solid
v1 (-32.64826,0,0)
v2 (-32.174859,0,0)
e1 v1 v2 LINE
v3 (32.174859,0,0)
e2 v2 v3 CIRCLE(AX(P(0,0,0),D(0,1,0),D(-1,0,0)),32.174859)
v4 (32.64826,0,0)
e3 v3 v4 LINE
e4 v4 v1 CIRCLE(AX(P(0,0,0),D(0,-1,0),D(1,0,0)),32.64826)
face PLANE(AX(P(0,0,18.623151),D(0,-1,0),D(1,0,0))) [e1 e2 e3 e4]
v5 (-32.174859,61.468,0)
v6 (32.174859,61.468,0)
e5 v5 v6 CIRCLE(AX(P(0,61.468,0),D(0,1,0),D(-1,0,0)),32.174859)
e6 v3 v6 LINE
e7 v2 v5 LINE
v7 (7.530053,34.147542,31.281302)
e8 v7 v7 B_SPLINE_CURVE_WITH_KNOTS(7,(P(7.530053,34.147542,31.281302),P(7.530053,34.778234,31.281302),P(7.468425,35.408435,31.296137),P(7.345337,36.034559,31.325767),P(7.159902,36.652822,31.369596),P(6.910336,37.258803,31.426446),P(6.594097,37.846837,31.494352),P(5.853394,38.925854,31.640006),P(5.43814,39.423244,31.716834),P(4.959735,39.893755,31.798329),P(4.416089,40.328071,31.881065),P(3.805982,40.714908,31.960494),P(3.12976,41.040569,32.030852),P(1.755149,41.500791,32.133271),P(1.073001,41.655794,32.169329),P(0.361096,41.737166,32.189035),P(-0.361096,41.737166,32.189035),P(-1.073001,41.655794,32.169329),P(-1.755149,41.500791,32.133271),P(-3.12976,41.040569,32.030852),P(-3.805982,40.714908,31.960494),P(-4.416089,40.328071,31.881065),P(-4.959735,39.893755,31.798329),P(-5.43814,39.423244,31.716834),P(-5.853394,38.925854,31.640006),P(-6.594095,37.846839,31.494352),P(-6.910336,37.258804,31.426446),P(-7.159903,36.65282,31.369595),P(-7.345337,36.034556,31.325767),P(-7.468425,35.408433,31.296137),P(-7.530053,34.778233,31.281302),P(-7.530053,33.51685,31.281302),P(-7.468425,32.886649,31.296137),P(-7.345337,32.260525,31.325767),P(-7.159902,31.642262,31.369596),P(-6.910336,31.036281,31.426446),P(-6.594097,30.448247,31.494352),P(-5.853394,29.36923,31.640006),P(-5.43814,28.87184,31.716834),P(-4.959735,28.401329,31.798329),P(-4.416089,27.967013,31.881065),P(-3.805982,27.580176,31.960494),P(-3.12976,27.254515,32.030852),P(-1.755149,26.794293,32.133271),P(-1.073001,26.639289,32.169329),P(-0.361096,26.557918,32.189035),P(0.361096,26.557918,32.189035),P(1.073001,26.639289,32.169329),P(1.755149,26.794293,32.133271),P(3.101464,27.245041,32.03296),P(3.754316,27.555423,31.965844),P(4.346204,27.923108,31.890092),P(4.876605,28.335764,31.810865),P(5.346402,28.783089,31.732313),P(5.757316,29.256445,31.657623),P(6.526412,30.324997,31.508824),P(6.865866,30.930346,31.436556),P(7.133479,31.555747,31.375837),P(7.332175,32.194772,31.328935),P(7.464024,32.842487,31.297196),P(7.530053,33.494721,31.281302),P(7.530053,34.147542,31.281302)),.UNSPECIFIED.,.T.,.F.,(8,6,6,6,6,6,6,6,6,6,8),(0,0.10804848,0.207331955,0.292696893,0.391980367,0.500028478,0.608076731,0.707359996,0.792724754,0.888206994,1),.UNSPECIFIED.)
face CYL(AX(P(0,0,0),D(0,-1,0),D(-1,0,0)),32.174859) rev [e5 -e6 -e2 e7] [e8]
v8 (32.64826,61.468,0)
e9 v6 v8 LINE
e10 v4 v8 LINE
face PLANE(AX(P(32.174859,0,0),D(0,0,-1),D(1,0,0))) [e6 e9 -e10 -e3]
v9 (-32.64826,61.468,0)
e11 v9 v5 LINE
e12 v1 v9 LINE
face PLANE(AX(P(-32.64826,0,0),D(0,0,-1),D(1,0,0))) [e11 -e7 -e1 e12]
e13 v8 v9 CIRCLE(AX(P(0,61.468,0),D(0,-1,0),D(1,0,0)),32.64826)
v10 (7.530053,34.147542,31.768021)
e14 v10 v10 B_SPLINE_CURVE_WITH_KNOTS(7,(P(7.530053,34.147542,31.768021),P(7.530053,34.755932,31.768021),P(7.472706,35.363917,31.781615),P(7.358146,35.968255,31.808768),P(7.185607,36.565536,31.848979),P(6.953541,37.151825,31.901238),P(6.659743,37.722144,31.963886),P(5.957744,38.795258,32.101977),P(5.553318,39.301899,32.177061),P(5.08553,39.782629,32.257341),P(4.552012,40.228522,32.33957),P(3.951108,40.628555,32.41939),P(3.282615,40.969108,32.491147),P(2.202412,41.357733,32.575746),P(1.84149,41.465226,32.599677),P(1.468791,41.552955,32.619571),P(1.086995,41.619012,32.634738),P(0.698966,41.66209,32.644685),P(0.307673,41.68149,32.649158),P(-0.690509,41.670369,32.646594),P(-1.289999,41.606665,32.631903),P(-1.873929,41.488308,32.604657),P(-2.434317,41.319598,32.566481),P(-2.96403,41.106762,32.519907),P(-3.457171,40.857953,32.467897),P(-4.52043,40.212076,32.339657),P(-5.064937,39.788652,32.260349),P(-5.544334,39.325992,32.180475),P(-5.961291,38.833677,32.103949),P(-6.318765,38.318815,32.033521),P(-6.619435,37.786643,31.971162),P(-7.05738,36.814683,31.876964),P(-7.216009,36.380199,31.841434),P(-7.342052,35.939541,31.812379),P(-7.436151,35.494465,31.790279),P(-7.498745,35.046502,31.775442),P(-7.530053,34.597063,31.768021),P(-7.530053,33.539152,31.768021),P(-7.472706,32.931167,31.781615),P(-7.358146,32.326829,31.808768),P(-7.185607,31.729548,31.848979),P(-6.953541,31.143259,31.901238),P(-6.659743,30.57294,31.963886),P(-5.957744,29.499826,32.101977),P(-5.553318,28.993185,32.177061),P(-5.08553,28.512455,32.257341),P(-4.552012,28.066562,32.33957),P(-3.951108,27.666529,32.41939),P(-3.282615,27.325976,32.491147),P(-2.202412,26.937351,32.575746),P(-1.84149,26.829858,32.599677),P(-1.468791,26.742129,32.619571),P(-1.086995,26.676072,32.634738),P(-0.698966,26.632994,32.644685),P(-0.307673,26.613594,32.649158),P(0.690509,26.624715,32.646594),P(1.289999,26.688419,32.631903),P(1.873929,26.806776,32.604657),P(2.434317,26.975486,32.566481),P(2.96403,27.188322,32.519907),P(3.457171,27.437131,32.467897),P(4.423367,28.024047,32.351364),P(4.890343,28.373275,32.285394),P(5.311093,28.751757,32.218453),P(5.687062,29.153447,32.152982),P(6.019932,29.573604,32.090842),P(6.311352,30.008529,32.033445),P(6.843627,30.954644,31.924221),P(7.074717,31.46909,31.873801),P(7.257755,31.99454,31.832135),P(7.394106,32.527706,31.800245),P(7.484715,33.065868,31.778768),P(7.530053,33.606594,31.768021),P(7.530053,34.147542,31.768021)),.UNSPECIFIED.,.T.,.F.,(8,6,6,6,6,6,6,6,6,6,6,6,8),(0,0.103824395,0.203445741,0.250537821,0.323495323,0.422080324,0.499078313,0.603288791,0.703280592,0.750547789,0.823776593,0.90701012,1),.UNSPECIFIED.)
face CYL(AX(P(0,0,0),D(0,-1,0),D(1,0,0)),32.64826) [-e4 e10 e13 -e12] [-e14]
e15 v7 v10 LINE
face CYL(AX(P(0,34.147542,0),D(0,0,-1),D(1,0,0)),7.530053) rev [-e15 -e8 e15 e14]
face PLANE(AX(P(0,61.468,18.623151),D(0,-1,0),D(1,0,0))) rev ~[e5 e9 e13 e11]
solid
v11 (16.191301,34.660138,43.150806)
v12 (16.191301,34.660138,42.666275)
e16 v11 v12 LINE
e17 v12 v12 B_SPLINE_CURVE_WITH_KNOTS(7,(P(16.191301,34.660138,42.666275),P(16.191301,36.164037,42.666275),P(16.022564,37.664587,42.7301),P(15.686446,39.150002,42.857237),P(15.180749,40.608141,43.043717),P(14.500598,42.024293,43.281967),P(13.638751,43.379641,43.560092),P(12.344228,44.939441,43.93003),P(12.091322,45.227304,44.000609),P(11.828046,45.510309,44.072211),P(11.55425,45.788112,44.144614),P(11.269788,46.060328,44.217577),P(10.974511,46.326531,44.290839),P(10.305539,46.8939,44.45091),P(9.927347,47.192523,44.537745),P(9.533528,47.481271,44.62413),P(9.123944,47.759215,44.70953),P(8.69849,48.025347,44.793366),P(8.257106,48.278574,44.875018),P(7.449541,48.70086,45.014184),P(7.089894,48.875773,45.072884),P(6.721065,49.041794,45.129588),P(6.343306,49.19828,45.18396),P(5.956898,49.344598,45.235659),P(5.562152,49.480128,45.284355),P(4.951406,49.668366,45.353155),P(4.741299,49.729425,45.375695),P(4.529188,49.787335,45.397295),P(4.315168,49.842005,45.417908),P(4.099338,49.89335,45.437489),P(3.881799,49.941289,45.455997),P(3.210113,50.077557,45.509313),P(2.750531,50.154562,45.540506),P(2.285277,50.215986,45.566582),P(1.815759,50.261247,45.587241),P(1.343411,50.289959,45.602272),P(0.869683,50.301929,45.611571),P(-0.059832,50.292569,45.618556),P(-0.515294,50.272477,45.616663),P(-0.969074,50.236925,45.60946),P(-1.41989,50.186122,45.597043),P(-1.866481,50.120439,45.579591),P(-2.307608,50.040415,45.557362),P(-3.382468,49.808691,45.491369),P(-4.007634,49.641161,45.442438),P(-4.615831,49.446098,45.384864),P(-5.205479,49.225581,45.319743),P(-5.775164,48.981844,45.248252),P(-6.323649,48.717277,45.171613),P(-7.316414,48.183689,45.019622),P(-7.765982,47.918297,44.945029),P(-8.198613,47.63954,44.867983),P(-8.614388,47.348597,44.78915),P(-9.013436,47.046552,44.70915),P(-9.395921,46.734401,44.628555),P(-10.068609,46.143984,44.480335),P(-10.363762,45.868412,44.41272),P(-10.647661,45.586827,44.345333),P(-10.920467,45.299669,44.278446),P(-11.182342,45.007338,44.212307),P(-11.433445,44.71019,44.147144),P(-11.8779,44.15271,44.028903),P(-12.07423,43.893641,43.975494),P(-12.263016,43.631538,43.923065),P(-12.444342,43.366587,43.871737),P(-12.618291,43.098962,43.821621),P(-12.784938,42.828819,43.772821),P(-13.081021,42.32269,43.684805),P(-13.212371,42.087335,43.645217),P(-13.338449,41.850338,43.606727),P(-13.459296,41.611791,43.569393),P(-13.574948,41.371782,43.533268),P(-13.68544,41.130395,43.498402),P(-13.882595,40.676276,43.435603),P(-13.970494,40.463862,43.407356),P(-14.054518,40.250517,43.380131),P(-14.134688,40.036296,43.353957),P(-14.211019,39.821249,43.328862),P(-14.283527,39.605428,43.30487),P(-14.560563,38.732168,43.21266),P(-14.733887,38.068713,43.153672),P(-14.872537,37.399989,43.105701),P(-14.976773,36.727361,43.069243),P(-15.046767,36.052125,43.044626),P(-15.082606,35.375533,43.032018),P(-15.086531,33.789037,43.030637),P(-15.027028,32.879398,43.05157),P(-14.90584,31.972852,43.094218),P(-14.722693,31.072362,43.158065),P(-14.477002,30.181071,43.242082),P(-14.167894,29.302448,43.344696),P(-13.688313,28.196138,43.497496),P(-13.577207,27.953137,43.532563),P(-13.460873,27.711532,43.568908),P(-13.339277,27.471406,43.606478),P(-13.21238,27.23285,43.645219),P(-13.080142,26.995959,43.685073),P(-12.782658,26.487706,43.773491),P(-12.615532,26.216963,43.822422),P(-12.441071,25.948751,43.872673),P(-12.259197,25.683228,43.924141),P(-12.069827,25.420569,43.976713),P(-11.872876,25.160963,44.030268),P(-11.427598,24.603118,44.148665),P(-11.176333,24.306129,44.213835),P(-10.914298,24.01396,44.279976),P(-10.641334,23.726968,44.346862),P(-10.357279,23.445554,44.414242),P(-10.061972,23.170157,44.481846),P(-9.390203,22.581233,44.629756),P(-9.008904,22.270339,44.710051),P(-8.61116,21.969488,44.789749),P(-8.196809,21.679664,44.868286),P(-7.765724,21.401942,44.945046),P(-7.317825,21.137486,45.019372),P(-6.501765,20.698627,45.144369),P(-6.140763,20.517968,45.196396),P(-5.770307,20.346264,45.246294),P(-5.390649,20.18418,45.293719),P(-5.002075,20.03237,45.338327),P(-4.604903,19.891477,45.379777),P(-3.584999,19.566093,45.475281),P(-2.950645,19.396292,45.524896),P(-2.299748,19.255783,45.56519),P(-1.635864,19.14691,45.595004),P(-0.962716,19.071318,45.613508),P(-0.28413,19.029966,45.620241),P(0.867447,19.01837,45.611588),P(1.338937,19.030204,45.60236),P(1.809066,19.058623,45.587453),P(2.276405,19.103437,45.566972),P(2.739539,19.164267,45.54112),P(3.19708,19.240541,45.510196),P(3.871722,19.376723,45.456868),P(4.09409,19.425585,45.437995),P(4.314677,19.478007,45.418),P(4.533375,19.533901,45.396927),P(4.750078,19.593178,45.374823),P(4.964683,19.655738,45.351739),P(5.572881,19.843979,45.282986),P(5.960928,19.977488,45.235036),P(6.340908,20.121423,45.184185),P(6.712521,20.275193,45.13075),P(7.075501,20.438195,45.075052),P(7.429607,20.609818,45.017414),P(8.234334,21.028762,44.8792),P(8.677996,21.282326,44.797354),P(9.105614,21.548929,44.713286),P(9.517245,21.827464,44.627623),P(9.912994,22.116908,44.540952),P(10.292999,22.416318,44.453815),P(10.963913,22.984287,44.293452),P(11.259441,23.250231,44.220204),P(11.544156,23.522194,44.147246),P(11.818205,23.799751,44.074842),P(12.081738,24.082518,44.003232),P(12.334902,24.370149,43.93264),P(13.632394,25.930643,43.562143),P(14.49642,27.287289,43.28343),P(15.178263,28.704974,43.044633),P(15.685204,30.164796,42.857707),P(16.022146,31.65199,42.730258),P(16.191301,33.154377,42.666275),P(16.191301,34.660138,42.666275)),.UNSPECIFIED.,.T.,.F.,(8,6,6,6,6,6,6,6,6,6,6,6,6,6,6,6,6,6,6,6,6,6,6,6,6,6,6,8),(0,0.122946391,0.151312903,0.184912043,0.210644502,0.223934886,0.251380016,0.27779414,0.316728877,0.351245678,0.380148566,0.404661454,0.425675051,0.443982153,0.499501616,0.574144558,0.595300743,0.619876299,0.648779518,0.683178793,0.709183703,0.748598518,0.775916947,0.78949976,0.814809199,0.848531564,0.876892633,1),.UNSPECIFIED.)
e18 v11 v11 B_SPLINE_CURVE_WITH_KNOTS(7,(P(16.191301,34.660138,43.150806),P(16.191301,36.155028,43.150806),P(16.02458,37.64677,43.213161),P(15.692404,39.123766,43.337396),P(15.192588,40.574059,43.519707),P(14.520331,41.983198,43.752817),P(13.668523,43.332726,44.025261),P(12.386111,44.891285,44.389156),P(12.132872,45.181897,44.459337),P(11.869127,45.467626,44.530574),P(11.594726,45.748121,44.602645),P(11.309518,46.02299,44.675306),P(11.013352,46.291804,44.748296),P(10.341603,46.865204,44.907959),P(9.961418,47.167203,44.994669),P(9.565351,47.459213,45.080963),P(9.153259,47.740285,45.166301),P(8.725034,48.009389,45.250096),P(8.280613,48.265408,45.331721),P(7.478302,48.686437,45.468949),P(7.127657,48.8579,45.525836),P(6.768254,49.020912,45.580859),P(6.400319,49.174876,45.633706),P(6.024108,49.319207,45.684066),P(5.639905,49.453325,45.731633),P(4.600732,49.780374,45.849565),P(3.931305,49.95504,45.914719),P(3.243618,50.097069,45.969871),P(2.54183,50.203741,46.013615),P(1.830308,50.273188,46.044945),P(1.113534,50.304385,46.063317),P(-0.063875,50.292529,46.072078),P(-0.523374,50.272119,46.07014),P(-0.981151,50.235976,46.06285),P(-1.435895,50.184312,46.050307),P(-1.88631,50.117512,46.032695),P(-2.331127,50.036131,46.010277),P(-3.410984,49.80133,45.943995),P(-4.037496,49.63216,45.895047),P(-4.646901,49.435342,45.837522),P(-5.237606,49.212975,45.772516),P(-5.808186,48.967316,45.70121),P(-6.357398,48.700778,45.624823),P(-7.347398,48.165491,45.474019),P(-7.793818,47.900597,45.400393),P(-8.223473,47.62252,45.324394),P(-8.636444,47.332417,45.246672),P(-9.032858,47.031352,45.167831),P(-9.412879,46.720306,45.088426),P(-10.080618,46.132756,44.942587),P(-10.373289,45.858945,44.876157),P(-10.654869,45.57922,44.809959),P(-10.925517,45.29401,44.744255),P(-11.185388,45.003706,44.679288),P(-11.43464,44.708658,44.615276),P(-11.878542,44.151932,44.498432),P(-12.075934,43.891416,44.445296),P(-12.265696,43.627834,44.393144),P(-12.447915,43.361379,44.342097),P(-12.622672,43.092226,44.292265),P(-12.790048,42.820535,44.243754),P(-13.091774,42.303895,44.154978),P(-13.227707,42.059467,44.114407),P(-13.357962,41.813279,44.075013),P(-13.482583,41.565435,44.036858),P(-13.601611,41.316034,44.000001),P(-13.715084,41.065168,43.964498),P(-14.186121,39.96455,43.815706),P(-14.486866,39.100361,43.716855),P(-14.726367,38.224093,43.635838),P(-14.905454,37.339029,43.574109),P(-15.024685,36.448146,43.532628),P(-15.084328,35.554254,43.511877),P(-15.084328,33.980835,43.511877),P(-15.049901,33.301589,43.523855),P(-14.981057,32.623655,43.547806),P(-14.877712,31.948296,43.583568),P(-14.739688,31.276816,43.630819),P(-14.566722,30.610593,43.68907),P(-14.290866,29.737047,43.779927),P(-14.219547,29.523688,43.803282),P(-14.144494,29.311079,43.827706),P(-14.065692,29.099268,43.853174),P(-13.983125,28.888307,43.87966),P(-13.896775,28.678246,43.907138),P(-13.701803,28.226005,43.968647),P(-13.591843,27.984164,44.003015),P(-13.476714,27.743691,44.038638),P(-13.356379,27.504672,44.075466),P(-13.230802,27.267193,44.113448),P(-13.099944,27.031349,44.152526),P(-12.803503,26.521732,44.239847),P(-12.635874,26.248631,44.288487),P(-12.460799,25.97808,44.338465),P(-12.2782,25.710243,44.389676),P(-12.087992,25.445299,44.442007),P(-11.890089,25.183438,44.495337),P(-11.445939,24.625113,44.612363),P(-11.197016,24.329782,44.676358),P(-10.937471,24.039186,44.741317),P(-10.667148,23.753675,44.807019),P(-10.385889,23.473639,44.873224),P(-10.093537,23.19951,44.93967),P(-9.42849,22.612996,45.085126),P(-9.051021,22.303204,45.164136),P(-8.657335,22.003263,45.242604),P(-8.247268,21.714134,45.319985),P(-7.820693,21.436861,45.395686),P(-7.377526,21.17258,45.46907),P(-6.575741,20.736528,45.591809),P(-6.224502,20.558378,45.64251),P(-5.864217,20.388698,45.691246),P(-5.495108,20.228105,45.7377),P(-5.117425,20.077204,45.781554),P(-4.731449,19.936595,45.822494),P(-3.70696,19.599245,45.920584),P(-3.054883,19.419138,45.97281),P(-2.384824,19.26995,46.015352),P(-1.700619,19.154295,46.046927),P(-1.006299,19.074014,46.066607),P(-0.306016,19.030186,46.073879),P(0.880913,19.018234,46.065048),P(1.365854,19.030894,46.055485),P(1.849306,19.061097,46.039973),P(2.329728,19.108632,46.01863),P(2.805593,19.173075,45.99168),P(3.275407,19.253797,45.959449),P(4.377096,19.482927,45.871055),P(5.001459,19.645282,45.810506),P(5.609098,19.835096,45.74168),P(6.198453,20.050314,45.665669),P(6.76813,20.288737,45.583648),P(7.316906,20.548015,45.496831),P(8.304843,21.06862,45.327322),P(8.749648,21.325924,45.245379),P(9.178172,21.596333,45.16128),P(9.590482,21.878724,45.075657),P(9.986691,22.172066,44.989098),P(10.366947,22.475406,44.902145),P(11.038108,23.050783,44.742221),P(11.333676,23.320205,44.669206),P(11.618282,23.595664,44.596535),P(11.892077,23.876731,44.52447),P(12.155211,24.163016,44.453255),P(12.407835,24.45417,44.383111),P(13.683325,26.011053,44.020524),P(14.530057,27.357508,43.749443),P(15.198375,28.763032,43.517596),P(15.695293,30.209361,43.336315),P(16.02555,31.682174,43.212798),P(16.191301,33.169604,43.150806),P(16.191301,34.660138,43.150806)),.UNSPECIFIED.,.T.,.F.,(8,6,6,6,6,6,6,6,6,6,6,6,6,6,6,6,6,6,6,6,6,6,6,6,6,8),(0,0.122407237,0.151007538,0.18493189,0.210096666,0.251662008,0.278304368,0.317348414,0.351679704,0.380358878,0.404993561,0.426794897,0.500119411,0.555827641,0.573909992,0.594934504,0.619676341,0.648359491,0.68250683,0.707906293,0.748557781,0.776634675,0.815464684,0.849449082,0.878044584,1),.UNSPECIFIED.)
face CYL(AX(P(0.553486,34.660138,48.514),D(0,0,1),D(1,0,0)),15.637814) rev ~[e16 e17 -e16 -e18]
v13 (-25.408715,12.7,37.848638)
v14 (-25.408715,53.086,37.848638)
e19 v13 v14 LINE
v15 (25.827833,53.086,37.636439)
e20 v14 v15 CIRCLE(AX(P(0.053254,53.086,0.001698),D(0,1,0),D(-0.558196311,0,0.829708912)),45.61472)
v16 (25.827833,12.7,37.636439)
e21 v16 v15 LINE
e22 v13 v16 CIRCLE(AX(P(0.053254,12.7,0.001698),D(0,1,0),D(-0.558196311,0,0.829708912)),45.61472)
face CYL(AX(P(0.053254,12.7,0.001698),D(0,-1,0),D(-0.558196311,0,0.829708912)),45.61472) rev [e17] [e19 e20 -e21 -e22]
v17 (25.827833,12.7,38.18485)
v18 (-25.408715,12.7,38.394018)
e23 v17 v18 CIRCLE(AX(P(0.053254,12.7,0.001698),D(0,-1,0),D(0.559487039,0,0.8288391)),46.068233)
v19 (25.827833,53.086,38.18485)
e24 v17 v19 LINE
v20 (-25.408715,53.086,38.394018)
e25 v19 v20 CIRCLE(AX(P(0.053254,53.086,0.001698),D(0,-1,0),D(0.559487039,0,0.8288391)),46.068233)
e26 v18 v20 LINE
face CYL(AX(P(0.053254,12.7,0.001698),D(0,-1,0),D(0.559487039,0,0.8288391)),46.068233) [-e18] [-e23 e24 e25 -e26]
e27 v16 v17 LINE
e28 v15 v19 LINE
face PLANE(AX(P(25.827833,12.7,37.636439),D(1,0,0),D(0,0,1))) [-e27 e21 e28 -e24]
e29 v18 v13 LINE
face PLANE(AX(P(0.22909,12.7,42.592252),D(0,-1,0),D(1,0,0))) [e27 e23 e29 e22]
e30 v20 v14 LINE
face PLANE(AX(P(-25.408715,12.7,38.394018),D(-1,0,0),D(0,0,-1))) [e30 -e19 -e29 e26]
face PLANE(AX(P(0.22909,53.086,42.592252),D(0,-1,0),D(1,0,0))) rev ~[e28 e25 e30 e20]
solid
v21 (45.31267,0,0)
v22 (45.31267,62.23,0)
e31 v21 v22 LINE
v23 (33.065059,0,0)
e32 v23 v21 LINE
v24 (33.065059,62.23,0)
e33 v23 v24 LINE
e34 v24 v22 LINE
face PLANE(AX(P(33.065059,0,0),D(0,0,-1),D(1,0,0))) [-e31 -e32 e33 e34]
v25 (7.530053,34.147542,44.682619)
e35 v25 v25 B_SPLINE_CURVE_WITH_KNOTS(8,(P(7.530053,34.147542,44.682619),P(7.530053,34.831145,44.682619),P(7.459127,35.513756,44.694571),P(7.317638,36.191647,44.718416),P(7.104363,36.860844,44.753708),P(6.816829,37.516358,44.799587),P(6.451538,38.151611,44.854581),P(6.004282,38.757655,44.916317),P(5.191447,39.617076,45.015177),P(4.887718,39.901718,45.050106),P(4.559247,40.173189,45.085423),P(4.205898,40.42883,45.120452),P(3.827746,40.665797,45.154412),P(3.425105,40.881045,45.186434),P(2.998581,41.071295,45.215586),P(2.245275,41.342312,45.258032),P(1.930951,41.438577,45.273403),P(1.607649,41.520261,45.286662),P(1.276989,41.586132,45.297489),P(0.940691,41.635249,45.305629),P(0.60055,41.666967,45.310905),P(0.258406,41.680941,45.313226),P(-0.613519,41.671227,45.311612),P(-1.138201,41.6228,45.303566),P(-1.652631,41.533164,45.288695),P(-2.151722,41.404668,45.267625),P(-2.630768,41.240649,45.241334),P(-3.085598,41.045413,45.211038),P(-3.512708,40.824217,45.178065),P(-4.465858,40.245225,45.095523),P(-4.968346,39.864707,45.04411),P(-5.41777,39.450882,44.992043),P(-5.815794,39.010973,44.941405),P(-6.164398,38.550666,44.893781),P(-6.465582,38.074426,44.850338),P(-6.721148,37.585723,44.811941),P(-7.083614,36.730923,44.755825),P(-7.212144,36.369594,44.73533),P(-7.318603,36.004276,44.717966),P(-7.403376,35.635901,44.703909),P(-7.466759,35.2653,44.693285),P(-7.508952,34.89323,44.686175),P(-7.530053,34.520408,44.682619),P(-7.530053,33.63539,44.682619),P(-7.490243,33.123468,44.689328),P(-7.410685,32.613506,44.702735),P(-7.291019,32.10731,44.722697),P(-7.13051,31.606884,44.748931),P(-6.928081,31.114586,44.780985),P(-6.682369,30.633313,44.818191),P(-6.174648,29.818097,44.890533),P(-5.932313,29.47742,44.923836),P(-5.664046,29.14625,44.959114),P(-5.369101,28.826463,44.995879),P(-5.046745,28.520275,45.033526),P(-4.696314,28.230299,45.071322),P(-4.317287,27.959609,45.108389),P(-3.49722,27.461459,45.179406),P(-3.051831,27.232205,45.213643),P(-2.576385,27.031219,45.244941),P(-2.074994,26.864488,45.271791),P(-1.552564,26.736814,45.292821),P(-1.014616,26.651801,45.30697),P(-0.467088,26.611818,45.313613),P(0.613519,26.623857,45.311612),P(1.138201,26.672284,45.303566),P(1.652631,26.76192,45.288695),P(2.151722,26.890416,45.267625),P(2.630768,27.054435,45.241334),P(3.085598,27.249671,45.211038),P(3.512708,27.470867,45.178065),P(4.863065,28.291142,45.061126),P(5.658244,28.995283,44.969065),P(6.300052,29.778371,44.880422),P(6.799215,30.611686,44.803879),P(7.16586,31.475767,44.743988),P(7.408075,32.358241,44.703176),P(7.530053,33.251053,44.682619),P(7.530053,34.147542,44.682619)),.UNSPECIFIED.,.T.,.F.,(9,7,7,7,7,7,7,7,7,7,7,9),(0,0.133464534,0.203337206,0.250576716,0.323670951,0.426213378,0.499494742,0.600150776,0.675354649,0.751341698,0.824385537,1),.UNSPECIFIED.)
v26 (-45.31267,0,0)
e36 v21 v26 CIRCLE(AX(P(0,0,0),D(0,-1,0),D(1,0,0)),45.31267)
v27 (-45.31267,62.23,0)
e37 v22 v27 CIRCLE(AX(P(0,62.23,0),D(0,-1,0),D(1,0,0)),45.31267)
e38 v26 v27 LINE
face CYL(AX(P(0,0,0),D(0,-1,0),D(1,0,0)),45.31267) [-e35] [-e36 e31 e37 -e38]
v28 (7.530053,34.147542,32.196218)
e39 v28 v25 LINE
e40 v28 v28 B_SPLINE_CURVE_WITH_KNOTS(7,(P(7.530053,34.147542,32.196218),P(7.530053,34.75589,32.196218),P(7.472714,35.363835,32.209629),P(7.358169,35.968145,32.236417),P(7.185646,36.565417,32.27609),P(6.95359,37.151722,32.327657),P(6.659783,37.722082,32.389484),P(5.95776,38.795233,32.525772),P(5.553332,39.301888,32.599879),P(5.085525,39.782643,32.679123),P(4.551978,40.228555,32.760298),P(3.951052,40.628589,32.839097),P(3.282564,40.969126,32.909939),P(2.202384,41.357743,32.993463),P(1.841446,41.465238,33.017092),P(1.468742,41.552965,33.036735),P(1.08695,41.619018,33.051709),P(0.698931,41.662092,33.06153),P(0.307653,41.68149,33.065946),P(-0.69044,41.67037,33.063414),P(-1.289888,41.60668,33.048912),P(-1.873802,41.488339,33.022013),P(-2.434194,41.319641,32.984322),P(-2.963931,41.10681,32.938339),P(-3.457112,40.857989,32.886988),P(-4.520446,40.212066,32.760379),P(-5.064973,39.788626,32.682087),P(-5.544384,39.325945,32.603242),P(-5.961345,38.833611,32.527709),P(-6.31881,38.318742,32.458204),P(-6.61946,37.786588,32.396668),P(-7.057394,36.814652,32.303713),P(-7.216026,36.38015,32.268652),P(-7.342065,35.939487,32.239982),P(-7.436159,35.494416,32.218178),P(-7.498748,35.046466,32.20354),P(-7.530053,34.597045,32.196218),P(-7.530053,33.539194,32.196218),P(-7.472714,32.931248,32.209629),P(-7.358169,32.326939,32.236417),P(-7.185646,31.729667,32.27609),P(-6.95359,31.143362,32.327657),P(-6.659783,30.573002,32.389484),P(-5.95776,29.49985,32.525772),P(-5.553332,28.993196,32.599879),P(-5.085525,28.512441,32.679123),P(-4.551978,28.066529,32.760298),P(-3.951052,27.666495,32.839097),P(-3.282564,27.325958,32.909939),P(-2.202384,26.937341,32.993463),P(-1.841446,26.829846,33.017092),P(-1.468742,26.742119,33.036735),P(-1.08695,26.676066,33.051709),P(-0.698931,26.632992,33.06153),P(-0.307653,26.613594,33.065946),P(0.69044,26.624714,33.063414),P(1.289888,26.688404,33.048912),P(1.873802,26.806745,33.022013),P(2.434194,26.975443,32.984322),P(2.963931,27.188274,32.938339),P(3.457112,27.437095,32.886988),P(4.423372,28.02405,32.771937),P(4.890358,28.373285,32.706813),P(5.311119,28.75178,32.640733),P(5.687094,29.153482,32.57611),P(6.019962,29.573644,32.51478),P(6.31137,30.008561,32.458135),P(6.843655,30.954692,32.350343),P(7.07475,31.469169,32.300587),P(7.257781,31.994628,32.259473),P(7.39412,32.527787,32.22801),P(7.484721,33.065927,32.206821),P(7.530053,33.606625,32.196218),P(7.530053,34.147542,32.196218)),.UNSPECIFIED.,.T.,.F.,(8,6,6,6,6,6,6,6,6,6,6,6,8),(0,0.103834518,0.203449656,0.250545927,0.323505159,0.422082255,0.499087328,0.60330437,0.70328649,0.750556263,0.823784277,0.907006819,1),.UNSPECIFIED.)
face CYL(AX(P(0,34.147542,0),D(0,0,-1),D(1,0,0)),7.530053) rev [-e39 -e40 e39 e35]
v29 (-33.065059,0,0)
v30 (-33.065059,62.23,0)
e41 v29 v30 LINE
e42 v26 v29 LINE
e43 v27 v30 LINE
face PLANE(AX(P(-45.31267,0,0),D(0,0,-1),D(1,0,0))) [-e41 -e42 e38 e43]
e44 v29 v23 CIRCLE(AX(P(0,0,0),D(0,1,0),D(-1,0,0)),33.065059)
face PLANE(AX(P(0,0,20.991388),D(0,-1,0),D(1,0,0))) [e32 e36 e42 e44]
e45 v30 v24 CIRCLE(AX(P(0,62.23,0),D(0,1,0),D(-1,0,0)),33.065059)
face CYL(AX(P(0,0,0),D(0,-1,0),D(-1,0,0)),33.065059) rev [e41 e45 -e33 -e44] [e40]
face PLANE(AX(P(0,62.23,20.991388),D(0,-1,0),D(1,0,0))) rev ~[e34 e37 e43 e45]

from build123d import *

# Parameters (mm, degrees)
F1_DEPTH  = 62.23
F5_DEPTH  = 40.386
F7_R      = 15.6378142811
F8_DEPTH  = 5.9182
F10_DEPTH = 61.468
F2_R      = 7.5300528798
F11_DEPTH = 61.214


with BuildPart() as f1:
    # F0 (on Front) → F1 (new body)
    with BuildSketch(Plane.XZ):
        with BuildLine():
            Line((33.065059418, 0), (45.3126704294, 0))
            ThreePointArc((45.3126704294, 0), (0, 45.3126704294), (-45.3126704294, 0))
            Line((-45.3126704294, 0), (-33.065059418, 0))
            ThreePointArc((-33.065059418, 0), (0, 33.065059418), (33.065059418, 0))
        make_face()
    extrude(amount=-F1_DEPTH)


with BuildPart() as f5:
    # F4 (on offset) → F5 (new body)
    with BuildSketch(Plane.XZ.offset(-12.7)):
        with BuildLine():
            Line((-25.4087150097, 38.3940178116), (-25.4087150097, 37.8486377124))
            ThreePointArc((-25.4087150097, 37.8486377124), (0.2421673779, 45.6160268954), (25.8278329857, 37.6364393506))
            Line((25.8278329857, 37.6364393506), (25.8278329857, 38.1848504555))
            ThreePointArc((25.8278329857, 38.1848504555), (0.2413204096, 46.0695468195), (-25.4087150097, 38.3940178116))
        make_face()
    extrude(amount=-F5_DEPTH)

    # F7 (on offset) → F8 (cut)
    with BuildSketch(Plane.XY.offset(48.514)):
        with Locations((0.5534864613, 34.6601381898)):
            Circle(F7_R)
    extrude(amount=-F8_DEPTH, mode=Mode.SUBTRACT)


with BuildPart() as f10:
    # F9 (on Front) → F10 (new body)
    with BuildSketch(Plane.XZ):
        with BuildLine():
            ThreePointArc((-32.1748587606, 0), (0, 32.1748587606), (32.1748587606, 0))
            Line((32.1748587606, 0), (32.6482600665, 0))
            ThreePointArc((32.6482600665, 0), (0, 32.6482600665), (-32.6482600665, 0))
            Line((-32.6482600665, 0), (-32.1748587606, 0))
        make_face()
    extrude(amount=-F10_DEPTH)


with BuildPart() as f11_tool:
    # F2 (on Top) → F11 (new body)
    with BuildSketch(Plane.XY):
        with Locations((0, 34.14754197)):
            Circle(F2_R)
    extrude(amount=F11_DEPTH)


with BuildPart() as f1_1:
    add(f1.part)

    # F11: cut by f11_tool
    add(f11_tool.part, mode=Mode.SUBTRACT)


with BuildPart() as f10_1:
    add(f10.part)

    # F11: cut by f11_tool
    add(f11_tool.part, mode=Mode.SUBTRACT)


solid = Compound([f5.part, f1_1.part, f10_1.part])
